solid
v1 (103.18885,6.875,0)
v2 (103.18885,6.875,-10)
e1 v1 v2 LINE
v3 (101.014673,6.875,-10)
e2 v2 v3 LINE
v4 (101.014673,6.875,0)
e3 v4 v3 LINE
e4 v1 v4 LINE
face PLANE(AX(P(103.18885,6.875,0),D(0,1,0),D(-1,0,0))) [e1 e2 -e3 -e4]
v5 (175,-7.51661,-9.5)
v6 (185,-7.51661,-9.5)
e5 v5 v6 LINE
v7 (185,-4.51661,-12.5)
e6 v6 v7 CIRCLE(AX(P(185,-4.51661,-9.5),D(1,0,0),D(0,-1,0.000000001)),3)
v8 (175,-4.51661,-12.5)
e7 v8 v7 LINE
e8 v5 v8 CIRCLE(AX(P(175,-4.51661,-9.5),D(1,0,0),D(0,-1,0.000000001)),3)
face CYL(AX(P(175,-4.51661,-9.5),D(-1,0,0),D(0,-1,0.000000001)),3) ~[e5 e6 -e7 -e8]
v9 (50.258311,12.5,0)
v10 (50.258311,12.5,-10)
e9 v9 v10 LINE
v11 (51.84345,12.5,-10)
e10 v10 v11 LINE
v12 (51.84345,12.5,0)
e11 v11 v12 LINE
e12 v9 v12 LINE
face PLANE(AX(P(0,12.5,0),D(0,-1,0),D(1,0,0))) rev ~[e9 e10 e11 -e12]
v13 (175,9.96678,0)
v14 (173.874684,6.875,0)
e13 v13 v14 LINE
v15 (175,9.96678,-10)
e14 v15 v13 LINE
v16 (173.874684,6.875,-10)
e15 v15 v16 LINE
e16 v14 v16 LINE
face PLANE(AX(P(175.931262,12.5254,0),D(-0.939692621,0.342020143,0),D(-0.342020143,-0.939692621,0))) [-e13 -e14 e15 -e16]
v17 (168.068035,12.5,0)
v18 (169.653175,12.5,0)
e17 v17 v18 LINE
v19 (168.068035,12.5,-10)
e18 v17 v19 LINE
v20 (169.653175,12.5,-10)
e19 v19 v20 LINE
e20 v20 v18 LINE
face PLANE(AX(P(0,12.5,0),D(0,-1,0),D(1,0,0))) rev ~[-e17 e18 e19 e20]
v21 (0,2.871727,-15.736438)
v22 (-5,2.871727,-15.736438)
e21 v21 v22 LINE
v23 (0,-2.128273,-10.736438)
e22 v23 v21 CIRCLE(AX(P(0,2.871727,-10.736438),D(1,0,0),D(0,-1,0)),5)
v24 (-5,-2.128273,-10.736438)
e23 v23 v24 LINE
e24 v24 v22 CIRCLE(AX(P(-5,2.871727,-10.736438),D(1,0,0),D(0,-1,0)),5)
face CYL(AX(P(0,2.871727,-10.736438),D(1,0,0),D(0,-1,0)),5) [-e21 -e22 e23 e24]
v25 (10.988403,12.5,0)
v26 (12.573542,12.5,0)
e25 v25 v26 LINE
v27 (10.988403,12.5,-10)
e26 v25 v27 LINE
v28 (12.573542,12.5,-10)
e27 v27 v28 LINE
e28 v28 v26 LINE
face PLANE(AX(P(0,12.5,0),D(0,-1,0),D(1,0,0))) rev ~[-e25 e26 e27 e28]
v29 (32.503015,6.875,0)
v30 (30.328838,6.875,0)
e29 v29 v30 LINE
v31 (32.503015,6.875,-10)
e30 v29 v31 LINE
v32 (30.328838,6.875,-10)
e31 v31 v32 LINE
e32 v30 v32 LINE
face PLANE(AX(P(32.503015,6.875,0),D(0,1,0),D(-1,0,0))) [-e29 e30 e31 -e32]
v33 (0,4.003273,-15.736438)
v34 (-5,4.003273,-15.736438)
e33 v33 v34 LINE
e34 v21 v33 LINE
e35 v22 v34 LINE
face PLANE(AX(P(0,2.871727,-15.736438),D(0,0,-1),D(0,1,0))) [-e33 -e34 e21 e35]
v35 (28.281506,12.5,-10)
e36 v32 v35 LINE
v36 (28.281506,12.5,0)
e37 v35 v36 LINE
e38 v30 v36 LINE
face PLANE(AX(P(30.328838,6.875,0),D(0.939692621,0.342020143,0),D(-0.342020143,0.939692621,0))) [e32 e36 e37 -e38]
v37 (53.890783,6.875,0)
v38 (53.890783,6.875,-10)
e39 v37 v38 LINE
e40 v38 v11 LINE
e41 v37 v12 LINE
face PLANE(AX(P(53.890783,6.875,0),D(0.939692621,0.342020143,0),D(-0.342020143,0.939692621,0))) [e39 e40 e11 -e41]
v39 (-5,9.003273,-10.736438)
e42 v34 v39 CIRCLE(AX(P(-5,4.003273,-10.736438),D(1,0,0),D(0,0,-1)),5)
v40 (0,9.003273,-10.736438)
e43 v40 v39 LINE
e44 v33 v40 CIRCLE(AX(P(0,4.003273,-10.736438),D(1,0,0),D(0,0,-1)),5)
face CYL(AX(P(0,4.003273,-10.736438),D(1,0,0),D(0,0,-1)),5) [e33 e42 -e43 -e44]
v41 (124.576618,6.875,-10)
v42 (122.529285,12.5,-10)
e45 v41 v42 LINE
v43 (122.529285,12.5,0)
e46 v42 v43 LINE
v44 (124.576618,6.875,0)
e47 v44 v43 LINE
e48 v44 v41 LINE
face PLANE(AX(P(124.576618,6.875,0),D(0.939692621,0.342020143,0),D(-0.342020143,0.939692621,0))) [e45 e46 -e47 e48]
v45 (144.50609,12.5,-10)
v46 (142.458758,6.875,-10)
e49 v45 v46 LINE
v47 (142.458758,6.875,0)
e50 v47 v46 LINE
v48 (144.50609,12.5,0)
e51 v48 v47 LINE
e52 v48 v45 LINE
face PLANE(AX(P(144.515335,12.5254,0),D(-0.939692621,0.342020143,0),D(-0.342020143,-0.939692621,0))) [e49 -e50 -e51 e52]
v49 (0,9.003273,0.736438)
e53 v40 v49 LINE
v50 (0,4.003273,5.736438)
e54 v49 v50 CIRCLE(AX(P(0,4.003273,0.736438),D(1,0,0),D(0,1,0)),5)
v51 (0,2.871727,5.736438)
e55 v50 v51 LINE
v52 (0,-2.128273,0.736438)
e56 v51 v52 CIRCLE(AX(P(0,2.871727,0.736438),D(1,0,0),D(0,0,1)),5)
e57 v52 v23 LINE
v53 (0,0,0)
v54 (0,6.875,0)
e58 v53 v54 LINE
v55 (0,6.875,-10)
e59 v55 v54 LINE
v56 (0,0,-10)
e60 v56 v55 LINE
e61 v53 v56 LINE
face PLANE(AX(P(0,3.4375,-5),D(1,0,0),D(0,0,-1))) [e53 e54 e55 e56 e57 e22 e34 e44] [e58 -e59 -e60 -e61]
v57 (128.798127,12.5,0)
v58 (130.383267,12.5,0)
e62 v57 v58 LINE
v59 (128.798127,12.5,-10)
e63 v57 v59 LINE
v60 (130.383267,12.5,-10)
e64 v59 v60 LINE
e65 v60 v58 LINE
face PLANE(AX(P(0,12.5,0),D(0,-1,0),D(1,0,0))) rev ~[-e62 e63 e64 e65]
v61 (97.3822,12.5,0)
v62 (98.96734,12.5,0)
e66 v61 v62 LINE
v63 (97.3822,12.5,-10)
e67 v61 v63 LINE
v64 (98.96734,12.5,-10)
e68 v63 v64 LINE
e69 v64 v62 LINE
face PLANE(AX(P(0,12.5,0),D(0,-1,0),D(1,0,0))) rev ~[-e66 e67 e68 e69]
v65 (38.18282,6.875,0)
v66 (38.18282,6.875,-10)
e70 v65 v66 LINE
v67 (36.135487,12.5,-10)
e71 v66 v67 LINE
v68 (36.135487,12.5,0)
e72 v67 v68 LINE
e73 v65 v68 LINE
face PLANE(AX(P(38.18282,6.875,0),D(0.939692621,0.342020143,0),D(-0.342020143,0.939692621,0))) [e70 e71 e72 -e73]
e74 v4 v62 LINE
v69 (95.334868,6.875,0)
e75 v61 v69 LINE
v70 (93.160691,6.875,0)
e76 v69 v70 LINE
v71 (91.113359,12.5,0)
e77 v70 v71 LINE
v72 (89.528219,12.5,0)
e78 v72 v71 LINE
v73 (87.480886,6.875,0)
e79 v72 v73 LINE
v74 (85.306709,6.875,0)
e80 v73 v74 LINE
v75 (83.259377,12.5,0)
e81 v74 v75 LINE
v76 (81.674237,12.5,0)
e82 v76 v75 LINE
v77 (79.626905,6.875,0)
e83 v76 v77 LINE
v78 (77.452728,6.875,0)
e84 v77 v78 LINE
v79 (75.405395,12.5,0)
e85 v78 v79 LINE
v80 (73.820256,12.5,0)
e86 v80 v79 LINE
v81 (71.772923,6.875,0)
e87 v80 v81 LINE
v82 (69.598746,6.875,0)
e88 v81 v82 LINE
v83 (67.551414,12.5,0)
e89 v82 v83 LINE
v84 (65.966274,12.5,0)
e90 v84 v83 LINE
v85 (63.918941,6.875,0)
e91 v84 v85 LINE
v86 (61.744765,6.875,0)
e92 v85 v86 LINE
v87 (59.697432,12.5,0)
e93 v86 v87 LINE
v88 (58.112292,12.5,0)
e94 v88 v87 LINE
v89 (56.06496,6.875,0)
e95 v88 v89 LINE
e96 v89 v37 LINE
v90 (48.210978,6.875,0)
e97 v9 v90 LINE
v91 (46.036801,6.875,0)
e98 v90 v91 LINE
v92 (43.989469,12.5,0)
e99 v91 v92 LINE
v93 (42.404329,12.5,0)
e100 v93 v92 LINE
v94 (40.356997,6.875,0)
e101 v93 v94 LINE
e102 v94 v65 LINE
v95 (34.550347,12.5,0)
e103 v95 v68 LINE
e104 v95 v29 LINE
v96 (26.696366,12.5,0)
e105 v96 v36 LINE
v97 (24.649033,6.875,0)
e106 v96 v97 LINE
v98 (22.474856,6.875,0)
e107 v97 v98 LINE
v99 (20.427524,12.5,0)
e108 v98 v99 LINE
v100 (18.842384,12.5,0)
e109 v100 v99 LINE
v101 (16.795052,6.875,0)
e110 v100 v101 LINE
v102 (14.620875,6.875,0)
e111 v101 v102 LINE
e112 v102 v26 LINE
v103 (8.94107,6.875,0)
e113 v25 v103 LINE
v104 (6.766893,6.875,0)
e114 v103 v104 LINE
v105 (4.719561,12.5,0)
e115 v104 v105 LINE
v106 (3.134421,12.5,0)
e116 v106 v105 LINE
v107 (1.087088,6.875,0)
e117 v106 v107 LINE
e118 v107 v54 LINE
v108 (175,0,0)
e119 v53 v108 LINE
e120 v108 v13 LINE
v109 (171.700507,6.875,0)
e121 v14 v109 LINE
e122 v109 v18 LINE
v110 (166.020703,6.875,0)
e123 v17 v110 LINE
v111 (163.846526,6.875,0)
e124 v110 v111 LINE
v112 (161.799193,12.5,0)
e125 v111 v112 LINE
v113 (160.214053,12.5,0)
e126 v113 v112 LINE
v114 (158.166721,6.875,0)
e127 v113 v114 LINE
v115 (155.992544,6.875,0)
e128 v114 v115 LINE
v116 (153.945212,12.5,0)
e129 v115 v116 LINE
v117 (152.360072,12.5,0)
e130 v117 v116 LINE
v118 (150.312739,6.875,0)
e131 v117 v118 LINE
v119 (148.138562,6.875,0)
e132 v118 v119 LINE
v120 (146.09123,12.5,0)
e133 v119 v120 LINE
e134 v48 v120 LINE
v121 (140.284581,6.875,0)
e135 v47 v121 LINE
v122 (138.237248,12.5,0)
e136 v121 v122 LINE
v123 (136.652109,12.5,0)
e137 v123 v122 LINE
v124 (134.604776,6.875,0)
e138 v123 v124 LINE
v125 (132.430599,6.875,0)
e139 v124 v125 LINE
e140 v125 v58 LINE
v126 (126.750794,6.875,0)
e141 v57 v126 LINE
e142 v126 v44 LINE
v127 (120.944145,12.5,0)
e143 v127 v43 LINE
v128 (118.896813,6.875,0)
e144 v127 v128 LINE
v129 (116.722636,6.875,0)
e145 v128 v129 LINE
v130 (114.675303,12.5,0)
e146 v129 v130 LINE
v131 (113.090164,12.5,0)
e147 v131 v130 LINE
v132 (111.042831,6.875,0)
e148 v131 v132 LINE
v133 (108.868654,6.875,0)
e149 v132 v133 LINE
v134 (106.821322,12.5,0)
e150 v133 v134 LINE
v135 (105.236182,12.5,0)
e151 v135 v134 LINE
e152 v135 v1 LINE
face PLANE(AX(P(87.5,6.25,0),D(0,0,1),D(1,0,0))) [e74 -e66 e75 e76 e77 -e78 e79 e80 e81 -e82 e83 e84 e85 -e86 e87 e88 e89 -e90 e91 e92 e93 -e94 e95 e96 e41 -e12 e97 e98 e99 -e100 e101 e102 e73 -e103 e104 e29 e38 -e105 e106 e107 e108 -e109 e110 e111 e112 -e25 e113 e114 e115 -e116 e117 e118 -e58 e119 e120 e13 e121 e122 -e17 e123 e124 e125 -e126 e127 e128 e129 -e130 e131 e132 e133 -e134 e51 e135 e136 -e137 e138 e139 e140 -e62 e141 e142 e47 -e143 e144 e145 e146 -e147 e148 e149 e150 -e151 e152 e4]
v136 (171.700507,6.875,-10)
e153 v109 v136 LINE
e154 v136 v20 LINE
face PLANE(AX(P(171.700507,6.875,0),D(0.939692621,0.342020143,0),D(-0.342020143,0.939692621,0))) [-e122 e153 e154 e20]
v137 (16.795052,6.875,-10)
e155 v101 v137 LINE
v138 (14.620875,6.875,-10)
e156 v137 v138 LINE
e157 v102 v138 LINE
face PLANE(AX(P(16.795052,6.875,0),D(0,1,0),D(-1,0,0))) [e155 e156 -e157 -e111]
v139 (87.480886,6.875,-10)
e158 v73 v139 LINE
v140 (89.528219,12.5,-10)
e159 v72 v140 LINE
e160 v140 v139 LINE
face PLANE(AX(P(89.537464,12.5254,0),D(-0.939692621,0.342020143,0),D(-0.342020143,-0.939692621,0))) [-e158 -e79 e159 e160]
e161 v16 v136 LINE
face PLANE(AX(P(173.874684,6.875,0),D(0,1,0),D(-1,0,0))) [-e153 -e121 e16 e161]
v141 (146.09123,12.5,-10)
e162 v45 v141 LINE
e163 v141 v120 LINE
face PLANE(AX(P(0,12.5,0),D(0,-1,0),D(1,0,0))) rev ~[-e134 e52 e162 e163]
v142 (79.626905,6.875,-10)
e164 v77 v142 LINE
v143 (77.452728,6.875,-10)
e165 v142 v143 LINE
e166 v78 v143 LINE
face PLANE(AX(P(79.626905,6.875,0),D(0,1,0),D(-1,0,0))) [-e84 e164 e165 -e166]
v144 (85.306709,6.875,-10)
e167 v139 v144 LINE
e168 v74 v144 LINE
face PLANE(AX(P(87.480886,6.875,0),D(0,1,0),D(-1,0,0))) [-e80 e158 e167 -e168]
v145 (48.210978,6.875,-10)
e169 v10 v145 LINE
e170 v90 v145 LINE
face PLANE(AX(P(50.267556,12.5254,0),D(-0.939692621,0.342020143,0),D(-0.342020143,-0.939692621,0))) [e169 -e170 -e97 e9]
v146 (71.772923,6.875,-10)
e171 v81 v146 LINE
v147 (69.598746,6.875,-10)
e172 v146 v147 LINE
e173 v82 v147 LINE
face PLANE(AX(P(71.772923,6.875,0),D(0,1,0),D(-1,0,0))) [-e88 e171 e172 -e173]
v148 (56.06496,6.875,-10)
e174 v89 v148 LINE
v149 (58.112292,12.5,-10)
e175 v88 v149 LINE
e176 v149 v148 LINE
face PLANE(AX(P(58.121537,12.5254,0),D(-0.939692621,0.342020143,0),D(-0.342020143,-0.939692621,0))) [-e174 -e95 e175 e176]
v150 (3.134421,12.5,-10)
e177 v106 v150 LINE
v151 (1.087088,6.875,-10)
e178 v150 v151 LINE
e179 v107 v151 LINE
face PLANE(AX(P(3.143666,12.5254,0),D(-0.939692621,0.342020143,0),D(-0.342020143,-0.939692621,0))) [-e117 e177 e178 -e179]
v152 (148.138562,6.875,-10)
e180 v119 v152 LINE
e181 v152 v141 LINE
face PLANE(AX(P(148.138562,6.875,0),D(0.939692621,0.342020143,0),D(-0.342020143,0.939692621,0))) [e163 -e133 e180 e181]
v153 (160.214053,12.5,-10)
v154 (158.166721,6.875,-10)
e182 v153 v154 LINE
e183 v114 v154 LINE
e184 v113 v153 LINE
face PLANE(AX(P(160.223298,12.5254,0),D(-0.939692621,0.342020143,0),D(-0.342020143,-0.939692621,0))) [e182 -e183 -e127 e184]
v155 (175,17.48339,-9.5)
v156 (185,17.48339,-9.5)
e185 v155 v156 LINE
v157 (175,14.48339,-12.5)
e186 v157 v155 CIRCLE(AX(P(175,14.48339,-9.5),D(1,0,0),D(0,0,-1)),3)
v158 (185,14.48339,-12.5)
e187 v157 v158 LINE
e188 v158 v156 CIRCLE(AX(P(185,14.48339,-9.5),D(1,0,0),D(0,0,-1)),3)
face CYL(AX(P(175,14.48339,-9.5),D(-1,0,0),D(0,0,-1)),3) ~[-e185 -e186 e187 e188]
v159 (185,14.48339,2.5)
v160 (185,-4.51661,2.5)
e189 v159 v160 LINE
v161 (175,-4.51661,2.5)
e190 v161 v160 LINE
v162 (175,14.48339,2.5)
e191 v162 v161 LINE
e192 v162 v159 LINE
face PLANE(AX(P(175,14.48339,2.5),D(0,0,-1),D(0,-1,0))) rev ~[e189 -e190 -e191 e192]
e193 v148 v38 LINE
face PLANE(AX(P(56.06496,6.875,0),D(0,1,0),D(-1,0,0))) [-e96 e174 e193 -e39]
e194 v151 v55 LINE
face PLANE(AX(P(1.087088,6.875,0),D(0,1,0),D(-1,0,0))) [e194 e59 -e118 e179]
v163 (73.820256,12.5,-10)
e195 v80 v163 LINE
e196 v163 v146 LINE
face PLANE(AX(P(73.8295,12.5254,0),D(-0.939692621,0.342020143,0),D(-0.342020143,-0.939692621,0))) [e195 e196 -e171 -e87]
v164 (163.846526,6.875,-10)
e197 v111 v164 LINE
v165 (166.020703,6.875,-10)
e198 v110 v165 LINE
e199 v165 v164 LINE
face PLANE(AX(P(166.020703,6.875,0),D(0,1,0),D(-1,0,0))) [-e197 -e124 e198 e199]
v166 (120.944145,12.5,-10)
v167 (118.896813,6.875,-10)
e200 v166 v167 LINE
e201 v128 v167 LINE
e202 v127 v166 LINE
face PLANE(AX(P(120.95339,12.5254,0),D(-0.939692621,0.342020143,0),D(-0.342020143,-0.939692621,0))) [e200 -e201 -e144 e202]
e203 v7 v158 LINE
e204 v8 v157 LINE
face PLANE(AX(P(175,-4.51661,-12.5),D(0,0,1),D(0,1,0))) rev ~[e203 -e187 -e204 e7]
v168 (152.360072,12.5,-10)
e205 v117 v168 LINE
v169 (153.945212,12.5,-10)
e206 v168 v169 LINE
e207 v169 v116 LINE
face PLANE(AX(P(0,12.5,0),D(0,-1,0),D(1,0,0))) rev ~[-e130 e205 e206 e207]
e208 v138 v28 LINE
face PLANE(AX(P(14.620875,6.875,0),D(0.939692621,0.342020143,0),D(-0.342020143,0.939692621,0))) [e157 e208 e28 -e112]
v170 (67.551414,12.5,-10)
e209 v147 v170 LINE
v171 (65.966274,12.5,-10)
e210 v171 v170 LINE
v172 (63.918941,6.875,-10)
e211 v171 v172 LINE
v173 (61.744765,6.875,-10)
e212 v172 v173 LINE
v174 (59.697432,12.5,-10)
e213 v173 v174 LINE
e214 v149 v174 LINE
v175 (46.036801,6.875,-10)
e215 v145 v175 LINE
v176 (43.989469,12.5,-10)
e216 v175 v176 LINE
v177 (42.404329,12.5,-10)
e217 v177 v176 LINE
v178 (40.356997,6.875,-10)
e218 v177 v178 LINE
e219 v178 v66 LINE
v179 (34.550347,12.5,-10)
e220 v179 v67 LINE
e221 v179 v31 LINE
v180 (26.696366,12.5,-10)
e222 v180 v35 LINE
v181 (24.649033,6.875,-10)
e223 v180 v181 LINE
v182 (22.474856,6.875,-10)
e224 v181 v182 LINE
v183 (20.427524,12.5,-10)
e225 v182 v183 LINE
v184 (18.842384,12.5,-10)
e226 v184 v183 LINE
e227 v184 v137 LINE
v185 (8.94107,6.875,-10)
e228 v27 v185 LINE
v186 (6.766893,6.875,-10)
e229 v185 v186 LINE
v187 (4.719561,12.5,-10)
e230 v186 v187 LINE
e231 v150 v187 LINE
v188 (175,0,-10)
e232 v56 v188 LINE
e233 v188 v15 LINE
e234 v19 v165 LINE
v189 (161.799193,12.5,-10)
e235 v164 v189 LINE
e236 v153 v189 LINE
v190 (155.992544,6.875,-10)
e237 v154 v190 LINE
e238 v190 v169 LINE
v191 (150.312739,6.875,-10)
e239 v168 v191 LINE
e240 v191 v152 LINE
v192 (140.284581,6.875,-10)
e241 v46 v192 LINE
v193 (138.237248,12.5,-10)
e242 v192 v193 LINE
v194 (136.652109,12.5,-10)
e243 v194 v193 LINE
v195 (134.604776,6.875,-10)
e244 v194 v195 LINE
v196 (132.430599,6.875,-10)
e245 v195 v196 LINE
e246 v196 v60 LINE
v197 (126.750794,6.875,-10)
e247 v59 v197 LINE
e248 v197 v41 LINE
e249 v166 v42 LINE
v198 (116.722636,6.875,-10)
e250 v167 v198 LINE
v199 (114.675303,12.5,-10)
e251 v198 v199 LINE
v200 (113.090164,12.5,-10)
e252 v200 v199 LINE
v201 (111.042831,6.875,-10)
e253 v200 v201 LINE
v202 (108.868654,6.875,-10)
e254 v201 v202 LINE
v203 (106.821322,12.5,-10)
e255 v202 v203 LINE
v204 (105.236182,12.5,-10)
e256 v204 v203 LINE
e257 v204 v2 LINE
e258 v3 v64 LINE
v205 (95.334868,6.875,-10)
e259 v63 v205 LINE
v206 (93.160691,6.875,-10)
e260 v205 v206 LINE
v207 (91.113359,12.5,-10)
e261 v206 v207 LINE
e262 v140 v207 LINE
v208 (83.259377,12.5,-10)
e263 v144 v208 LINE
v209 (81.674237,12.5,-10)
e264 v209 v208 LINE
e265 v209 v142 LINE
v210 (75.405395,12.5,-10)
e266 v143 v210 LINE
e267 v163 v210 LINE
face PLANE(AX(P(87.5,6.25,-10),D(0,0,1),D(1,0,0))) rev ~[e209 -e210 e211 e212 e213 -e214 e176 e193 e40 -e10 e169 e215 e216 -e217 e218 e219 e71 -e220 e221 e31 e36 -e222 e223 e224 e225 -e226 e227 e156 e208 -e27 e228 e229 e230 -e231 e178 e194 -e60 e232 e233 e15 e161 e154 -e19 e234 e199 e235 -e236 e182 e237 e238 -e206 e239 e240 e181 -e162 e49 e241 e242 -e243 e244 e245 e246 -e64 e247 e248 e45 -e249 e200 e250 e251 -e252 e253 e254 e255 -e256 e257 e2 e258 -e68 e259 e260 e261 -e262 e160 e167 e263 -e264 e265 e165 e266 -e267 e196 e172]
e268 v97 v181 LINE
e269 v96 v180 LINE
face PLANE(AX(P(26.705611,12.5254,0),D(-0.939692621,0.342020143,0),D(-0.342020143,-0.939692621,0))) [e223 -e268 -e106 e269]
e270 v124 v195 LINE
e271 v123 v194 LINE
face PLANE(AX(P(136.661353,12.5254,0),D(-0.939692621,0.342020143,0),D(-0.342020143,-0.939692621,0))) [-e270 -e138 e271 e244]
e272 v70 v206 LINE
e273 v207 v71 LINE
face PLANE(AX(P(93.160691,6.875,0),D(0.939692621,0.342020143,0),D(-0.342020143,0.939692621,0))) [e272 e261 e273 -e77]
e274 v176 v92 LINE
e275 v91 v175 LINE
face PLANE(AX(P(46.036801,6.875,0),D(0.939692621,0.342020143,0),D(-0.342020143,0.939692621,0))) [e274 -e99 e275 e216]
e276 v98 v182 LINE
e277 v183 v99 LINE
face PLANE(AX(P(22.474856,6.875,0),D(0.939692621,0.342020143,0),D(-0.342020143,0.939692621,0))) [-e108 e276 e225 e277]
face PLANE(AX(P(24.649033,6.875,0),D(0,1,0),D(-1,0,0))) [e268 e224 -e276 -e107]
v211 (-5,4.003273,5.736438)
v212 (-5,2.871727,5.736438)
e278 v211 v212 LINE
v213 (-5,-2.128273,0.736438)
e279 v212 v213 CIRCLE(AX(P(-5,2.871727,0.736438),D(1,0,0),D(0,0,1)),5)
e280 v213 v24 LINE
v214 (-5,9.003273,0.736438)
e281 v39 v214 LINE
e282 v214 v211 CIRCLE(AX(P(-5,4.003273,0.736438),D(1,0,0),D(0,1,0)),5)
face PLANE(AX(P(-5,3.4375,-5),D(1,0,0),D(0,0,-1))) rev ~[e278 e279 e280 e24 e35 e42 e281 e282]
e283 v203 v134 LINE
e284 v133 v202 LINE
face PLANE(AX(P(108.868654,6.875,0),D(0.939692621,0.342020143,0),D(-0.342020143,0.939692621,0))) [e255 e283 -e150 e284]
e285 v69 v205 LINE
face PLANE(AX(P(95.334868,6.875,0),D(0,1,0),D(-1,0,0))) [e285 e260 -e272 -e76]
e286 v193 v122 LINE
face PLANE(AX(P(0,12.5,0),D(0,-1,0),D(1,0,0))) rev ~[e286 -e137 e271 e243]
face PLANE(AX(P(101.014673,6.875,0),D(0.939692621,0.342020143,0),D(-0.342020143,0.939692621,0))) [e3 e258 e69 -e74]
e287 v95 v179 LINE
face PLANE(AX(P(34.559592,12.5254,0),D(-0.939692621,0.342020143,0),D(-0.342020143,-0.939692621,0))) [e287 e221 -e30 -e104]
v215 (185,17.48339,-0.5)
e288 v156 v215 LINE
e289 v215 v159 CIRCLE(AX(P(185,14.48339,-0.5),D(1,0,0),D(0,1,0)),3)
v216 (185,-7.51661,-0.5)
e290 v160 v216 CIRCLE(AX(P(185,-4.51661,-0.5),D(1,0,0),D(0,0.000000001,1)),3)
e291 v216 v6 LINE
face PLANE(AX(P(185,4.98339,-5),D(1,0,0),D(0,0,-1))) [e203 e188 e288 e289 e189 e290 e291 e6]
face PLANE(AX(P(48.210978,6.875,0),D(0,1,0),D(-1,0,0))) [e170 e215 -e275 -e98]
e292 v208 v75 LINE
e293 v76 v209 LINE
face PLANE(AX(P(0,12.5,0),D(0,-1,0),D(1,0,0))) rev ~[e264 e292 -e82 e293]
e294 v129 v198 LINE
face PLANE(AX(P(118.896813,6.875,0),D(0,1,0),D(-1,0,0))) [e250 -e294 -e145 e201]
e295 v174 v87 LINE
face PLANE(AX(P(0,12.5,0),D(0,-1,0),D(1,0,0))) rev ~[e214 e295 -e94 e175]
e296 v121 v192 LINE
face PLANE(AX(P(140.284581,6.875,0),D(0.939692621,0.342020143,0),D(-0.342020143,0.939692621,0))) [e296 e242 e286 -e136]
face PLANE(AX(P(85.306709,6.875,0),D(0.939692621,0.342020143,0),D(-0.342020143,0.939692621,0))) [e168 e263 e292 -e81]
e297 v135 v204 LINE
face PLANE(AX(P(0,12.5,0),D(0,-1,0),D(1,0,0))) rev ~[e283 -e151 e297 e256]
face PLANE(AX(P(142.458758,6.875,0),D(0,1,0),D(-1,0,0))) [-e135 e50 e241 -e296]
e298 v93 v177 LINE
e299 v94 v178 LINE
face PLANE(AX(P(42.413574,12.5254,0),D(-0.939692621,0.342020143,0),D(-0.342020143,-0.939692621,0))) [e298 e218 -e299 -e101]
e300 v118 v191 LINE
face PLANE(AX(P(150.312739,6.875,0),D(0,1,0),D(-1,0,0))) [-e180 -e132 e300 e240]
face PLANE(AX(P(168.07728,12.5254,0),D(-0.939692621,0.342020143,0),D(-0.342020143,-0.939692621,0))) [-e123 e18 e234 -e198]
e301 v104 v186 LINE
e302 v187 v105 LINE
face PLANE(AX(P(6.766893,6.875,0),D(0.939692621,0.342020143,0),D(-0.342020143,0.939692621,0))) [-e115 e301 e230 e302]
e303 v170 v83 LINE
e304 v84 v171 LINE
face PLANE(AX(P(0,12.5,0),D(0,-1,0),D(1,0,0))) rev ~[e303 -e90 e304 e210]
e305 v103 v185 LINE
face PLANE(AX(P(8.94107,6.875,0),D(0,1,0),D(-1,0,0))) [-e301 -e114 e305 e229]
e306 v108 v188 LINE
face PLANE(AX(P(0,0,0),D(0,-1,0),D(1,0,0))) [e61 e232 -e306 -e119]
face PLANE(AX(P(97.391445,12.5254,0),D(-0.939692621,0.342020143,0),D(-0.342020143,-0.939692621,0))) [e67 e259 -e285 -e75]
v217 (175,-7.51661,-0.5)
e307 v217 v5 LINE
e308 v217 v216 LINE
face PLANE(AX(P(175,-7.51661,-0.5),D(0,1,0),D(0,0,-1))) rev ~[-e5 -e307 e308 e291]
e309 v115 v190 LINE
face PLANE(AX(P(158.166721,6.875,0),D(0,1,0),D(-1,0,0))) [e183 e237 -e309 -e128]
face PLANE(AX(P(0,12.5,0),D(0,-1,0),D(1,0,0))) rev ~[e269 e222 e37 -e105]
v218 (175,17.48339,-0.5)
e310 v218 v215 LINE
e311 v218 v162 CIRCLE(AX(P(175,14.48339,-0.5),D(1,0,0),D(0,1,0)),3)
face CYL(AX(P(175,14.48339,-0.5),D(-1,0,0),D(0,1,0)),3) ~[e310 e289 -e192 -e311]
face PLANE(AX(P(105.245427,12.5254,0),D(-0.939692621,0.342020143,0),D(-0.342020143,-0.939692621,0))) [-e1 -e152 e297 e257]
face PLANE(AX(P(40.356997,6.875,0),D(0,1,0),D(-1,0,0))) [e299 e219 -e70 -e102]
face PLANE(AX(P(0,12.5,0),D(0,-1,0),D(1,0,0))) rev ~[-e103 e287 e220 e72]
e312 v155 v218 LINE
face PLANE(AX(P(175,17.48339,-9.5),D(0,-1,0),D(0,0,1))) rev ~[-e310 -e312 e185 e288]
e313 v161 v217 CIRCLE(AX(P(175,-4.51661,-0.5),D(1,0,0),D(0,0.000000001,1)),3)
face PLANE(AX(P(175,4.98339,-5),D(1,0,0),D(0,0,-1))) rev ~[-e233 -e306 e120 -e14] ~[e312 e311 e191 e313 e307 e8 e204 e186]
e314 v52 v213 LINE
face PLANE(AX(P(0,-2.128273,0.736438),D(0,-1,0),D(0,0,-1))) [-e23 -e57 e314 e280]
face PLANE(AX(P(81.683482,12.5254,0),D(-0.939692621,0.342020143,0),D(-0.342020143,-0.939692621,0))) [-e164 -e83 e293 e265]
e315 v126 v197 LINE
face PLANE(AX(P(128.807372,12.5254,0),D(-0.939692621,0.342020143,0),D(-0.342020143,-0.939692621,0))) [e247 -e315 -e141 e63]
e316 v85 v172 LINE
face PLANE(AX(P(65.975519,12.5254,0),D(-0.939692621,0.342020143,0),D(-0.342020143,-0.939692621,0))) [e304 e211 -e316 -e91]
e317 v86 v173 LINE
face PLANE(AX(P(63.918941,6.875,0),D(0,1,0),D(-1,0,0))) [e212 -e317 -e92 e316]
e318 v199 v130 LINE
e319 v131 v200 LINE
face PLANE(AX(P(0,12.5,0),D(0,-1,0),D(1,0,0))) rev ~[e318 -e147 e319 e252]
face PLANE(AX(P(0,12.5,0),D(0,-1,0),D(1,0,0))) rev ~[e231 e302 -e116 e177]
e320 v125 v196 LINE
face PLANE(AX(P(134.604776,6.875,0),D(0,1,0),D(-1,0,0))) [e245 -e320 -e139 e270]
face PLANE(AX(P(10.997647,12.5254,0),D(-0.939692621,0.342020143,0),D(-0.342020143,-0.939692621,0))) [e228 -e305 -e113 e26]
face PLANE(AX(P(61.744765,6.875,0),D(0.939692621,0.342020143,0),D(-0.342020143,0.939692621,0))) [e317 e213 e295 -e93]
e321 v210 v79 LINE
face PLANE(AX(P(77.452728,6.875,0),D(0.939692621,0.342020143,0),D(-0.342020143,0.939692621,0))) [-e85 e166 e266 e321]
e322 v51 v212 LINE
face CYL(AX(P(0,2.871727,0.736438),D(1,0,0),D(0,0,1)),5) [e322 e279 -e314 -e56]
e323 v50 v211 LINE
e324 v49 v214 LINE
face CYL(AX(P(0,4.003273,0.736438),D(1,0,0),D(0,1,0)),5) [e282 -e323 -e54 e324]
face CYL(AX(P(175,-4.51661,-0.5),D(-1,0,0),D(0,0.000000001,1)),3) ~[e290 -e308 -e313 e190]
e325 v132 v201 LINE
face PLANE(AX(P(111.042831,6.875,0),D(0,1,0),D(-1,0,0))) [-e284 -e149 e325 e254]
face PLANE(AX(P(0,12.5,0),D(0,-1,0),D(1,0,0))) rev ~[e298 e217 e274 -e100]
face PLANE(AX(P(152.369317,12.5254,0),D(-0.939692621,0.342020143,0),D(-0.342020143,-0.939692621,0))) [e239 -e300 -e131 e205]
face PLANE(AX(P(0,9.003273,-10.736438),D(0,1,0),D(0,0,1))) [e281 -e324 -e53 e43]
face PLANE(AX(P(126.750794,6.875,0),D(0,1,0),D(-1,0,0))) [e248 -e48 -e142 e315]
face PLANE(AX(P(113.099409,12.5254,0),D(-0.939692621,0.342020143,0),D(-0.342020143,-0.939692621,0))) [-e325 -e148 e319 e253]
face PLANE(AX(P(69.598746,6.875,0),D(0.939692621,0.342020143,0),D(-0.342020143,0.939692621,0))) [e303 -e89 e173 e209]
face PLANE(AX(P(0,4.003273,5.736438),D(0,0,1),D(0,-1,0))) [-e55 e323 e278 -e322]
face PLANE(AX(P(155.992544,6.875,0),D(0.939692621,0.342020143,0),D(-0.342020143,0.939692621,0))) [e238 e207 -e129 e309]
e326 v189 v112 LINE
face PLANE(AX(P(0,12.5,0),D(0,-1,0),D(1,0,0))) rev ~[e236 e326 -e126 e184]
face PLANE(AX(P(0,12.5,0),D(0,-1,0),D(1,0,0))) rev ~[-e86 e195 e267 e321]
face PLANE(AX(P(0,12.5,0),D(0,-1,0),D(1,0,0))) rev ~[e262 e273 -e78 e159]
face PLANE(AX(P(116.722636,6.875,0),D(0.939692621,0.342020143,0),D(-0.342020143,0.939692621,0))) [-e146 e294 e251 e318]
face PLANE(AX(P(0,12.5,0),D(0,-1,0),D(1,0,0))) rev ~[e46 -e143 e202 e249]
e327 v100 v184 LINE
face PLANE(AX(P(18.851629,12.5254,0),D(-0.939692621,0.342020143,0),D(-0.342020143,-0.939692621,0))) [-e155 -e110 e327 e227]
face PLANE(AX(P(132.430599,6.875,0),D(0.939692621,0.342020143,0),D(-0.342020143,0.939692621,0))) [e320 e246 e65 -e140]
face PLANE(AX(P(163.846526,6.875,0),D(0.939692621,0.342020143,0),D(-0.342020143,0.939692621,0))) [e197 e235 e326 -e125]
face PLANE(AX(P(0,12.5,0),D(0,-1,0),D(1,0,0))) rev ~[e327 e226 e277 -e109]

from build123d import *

# Parameters (mm, degrees)
BLANKSKE_W         = 175
BLANKSKE_H         = 12.5
BLANK_DEPTH        = 10
TOOTHCUTSIM_DEPTH  = 176.730617708
TEETHCUTS_COUNT    = 23
TEETHCUTS_PITCH    = 7.853981625
BOSS_EXTRU_1_DEPTH = 5
BOSS_EXTRU_2_DEPTH = 10


with BuildPart() as part:
    # BlankSke → Blank (new body)
    with BuildSketch(Plane.XY):
        with Locations((87.5, 6.25)):
            Rectangle(BLANKSKE_W, BLANKSKE_H)
    extrude(amount=-BLANK_DEPTH)

    # TooCutSkeSim → ToothCutSim (cut, through all)
    with BuildSketch(Plane.XY):
        Polygon((1.087088424, 6.875), (-1.087088424, 6.875), (-3.143665836, 12.5254), (3.143665836, 12.5254), align=None)
    toothcutsim = extrude(amount=-TOOTHCUTSIM_DEPTH, mode=Mode.SUBTRACT)

    # TeethCuts: ToothCutSim ×23
    with Locations(*[(i * TEETHCUTS_PITCH, 0, 0) for i in range(1, TEETHCUTS_COUNT)]):
        add(toothcutsim, mode=Mode.SUBTRACT)

    # Esquisse1 → Boss.-Extru.1 (add)
    with BuildSketch(Plane.ZY):
        with BuildLine():
            Line((-10.736438124, 9.003272752), (0.736438124, 9.003272752))
            ThreePointArc((0.736438124, 9.003272752), (4.27197203, 7.538806658), (5.736438124, 4.003272752))
            Line((5.736438124, 4.003272752), (5.736438124, 2.871727248))
            ThreePointArc((5.736438124, 2.871727248), (4.27197203, -0.663806658), (0.736438124, -2.128272752))
            Line((0.736438124, -2.128272752), (-10.736438124, -2.128272752))
            ThreePointArc((-10.736438124, -2.128272752), (-14.27197203, -0.663806658), (-15.736438124, 2.871727248))
            Line((-15.736438124, 2.871727248), (-15.736438124, 4.003272752))
            ThreePointArc((-15.736438124, 4.003272752), (-14.27197203, 7.538806658), (-10.736438124, 9.003272752))
        make_face()
    extrude(amount=BOSS_EXTRU_1_DEPTH)

    # Esquisse2 → Boss.-Extru.2 (add)
    with BuildSketch(Plane(origin=(175, 0, 0), x_dir=(0, 0, -1), z_dir=(1, 0, 0))):
        with BuildLine():
            Line((9.5, 17.483389911), (0.5, 17.483389911))
            ThreePointArc((0.5, 17.483389911), (-1.621320344, 16.604710254), (-2.5, 14.483389911))
            Line((-2.5, 14.483389911), (-2.5, -4.516610089))
            ThreePointArc((-2.5, -4.516610089), (-1.621320344, -6.637930433), (0.5, -7.516610089))
            Line((0.5, -7.516610089), (9.5, -7.516610089))
            ThreePointArc((9.5, -7.516610089), (11.621320344, -6.637930433), (12.5, -4.516610089))
            Line((12.5, -4.516610089), (12.5, 14.483389911))
            ThreePointArc((12.5, 14.483389911), (11.621320344, 16.604710254), (9.5, 17.483389911))
        make_face()
    extrude(amount=BOSS_EXTRU_2_DEPTH)


solid = part.part
